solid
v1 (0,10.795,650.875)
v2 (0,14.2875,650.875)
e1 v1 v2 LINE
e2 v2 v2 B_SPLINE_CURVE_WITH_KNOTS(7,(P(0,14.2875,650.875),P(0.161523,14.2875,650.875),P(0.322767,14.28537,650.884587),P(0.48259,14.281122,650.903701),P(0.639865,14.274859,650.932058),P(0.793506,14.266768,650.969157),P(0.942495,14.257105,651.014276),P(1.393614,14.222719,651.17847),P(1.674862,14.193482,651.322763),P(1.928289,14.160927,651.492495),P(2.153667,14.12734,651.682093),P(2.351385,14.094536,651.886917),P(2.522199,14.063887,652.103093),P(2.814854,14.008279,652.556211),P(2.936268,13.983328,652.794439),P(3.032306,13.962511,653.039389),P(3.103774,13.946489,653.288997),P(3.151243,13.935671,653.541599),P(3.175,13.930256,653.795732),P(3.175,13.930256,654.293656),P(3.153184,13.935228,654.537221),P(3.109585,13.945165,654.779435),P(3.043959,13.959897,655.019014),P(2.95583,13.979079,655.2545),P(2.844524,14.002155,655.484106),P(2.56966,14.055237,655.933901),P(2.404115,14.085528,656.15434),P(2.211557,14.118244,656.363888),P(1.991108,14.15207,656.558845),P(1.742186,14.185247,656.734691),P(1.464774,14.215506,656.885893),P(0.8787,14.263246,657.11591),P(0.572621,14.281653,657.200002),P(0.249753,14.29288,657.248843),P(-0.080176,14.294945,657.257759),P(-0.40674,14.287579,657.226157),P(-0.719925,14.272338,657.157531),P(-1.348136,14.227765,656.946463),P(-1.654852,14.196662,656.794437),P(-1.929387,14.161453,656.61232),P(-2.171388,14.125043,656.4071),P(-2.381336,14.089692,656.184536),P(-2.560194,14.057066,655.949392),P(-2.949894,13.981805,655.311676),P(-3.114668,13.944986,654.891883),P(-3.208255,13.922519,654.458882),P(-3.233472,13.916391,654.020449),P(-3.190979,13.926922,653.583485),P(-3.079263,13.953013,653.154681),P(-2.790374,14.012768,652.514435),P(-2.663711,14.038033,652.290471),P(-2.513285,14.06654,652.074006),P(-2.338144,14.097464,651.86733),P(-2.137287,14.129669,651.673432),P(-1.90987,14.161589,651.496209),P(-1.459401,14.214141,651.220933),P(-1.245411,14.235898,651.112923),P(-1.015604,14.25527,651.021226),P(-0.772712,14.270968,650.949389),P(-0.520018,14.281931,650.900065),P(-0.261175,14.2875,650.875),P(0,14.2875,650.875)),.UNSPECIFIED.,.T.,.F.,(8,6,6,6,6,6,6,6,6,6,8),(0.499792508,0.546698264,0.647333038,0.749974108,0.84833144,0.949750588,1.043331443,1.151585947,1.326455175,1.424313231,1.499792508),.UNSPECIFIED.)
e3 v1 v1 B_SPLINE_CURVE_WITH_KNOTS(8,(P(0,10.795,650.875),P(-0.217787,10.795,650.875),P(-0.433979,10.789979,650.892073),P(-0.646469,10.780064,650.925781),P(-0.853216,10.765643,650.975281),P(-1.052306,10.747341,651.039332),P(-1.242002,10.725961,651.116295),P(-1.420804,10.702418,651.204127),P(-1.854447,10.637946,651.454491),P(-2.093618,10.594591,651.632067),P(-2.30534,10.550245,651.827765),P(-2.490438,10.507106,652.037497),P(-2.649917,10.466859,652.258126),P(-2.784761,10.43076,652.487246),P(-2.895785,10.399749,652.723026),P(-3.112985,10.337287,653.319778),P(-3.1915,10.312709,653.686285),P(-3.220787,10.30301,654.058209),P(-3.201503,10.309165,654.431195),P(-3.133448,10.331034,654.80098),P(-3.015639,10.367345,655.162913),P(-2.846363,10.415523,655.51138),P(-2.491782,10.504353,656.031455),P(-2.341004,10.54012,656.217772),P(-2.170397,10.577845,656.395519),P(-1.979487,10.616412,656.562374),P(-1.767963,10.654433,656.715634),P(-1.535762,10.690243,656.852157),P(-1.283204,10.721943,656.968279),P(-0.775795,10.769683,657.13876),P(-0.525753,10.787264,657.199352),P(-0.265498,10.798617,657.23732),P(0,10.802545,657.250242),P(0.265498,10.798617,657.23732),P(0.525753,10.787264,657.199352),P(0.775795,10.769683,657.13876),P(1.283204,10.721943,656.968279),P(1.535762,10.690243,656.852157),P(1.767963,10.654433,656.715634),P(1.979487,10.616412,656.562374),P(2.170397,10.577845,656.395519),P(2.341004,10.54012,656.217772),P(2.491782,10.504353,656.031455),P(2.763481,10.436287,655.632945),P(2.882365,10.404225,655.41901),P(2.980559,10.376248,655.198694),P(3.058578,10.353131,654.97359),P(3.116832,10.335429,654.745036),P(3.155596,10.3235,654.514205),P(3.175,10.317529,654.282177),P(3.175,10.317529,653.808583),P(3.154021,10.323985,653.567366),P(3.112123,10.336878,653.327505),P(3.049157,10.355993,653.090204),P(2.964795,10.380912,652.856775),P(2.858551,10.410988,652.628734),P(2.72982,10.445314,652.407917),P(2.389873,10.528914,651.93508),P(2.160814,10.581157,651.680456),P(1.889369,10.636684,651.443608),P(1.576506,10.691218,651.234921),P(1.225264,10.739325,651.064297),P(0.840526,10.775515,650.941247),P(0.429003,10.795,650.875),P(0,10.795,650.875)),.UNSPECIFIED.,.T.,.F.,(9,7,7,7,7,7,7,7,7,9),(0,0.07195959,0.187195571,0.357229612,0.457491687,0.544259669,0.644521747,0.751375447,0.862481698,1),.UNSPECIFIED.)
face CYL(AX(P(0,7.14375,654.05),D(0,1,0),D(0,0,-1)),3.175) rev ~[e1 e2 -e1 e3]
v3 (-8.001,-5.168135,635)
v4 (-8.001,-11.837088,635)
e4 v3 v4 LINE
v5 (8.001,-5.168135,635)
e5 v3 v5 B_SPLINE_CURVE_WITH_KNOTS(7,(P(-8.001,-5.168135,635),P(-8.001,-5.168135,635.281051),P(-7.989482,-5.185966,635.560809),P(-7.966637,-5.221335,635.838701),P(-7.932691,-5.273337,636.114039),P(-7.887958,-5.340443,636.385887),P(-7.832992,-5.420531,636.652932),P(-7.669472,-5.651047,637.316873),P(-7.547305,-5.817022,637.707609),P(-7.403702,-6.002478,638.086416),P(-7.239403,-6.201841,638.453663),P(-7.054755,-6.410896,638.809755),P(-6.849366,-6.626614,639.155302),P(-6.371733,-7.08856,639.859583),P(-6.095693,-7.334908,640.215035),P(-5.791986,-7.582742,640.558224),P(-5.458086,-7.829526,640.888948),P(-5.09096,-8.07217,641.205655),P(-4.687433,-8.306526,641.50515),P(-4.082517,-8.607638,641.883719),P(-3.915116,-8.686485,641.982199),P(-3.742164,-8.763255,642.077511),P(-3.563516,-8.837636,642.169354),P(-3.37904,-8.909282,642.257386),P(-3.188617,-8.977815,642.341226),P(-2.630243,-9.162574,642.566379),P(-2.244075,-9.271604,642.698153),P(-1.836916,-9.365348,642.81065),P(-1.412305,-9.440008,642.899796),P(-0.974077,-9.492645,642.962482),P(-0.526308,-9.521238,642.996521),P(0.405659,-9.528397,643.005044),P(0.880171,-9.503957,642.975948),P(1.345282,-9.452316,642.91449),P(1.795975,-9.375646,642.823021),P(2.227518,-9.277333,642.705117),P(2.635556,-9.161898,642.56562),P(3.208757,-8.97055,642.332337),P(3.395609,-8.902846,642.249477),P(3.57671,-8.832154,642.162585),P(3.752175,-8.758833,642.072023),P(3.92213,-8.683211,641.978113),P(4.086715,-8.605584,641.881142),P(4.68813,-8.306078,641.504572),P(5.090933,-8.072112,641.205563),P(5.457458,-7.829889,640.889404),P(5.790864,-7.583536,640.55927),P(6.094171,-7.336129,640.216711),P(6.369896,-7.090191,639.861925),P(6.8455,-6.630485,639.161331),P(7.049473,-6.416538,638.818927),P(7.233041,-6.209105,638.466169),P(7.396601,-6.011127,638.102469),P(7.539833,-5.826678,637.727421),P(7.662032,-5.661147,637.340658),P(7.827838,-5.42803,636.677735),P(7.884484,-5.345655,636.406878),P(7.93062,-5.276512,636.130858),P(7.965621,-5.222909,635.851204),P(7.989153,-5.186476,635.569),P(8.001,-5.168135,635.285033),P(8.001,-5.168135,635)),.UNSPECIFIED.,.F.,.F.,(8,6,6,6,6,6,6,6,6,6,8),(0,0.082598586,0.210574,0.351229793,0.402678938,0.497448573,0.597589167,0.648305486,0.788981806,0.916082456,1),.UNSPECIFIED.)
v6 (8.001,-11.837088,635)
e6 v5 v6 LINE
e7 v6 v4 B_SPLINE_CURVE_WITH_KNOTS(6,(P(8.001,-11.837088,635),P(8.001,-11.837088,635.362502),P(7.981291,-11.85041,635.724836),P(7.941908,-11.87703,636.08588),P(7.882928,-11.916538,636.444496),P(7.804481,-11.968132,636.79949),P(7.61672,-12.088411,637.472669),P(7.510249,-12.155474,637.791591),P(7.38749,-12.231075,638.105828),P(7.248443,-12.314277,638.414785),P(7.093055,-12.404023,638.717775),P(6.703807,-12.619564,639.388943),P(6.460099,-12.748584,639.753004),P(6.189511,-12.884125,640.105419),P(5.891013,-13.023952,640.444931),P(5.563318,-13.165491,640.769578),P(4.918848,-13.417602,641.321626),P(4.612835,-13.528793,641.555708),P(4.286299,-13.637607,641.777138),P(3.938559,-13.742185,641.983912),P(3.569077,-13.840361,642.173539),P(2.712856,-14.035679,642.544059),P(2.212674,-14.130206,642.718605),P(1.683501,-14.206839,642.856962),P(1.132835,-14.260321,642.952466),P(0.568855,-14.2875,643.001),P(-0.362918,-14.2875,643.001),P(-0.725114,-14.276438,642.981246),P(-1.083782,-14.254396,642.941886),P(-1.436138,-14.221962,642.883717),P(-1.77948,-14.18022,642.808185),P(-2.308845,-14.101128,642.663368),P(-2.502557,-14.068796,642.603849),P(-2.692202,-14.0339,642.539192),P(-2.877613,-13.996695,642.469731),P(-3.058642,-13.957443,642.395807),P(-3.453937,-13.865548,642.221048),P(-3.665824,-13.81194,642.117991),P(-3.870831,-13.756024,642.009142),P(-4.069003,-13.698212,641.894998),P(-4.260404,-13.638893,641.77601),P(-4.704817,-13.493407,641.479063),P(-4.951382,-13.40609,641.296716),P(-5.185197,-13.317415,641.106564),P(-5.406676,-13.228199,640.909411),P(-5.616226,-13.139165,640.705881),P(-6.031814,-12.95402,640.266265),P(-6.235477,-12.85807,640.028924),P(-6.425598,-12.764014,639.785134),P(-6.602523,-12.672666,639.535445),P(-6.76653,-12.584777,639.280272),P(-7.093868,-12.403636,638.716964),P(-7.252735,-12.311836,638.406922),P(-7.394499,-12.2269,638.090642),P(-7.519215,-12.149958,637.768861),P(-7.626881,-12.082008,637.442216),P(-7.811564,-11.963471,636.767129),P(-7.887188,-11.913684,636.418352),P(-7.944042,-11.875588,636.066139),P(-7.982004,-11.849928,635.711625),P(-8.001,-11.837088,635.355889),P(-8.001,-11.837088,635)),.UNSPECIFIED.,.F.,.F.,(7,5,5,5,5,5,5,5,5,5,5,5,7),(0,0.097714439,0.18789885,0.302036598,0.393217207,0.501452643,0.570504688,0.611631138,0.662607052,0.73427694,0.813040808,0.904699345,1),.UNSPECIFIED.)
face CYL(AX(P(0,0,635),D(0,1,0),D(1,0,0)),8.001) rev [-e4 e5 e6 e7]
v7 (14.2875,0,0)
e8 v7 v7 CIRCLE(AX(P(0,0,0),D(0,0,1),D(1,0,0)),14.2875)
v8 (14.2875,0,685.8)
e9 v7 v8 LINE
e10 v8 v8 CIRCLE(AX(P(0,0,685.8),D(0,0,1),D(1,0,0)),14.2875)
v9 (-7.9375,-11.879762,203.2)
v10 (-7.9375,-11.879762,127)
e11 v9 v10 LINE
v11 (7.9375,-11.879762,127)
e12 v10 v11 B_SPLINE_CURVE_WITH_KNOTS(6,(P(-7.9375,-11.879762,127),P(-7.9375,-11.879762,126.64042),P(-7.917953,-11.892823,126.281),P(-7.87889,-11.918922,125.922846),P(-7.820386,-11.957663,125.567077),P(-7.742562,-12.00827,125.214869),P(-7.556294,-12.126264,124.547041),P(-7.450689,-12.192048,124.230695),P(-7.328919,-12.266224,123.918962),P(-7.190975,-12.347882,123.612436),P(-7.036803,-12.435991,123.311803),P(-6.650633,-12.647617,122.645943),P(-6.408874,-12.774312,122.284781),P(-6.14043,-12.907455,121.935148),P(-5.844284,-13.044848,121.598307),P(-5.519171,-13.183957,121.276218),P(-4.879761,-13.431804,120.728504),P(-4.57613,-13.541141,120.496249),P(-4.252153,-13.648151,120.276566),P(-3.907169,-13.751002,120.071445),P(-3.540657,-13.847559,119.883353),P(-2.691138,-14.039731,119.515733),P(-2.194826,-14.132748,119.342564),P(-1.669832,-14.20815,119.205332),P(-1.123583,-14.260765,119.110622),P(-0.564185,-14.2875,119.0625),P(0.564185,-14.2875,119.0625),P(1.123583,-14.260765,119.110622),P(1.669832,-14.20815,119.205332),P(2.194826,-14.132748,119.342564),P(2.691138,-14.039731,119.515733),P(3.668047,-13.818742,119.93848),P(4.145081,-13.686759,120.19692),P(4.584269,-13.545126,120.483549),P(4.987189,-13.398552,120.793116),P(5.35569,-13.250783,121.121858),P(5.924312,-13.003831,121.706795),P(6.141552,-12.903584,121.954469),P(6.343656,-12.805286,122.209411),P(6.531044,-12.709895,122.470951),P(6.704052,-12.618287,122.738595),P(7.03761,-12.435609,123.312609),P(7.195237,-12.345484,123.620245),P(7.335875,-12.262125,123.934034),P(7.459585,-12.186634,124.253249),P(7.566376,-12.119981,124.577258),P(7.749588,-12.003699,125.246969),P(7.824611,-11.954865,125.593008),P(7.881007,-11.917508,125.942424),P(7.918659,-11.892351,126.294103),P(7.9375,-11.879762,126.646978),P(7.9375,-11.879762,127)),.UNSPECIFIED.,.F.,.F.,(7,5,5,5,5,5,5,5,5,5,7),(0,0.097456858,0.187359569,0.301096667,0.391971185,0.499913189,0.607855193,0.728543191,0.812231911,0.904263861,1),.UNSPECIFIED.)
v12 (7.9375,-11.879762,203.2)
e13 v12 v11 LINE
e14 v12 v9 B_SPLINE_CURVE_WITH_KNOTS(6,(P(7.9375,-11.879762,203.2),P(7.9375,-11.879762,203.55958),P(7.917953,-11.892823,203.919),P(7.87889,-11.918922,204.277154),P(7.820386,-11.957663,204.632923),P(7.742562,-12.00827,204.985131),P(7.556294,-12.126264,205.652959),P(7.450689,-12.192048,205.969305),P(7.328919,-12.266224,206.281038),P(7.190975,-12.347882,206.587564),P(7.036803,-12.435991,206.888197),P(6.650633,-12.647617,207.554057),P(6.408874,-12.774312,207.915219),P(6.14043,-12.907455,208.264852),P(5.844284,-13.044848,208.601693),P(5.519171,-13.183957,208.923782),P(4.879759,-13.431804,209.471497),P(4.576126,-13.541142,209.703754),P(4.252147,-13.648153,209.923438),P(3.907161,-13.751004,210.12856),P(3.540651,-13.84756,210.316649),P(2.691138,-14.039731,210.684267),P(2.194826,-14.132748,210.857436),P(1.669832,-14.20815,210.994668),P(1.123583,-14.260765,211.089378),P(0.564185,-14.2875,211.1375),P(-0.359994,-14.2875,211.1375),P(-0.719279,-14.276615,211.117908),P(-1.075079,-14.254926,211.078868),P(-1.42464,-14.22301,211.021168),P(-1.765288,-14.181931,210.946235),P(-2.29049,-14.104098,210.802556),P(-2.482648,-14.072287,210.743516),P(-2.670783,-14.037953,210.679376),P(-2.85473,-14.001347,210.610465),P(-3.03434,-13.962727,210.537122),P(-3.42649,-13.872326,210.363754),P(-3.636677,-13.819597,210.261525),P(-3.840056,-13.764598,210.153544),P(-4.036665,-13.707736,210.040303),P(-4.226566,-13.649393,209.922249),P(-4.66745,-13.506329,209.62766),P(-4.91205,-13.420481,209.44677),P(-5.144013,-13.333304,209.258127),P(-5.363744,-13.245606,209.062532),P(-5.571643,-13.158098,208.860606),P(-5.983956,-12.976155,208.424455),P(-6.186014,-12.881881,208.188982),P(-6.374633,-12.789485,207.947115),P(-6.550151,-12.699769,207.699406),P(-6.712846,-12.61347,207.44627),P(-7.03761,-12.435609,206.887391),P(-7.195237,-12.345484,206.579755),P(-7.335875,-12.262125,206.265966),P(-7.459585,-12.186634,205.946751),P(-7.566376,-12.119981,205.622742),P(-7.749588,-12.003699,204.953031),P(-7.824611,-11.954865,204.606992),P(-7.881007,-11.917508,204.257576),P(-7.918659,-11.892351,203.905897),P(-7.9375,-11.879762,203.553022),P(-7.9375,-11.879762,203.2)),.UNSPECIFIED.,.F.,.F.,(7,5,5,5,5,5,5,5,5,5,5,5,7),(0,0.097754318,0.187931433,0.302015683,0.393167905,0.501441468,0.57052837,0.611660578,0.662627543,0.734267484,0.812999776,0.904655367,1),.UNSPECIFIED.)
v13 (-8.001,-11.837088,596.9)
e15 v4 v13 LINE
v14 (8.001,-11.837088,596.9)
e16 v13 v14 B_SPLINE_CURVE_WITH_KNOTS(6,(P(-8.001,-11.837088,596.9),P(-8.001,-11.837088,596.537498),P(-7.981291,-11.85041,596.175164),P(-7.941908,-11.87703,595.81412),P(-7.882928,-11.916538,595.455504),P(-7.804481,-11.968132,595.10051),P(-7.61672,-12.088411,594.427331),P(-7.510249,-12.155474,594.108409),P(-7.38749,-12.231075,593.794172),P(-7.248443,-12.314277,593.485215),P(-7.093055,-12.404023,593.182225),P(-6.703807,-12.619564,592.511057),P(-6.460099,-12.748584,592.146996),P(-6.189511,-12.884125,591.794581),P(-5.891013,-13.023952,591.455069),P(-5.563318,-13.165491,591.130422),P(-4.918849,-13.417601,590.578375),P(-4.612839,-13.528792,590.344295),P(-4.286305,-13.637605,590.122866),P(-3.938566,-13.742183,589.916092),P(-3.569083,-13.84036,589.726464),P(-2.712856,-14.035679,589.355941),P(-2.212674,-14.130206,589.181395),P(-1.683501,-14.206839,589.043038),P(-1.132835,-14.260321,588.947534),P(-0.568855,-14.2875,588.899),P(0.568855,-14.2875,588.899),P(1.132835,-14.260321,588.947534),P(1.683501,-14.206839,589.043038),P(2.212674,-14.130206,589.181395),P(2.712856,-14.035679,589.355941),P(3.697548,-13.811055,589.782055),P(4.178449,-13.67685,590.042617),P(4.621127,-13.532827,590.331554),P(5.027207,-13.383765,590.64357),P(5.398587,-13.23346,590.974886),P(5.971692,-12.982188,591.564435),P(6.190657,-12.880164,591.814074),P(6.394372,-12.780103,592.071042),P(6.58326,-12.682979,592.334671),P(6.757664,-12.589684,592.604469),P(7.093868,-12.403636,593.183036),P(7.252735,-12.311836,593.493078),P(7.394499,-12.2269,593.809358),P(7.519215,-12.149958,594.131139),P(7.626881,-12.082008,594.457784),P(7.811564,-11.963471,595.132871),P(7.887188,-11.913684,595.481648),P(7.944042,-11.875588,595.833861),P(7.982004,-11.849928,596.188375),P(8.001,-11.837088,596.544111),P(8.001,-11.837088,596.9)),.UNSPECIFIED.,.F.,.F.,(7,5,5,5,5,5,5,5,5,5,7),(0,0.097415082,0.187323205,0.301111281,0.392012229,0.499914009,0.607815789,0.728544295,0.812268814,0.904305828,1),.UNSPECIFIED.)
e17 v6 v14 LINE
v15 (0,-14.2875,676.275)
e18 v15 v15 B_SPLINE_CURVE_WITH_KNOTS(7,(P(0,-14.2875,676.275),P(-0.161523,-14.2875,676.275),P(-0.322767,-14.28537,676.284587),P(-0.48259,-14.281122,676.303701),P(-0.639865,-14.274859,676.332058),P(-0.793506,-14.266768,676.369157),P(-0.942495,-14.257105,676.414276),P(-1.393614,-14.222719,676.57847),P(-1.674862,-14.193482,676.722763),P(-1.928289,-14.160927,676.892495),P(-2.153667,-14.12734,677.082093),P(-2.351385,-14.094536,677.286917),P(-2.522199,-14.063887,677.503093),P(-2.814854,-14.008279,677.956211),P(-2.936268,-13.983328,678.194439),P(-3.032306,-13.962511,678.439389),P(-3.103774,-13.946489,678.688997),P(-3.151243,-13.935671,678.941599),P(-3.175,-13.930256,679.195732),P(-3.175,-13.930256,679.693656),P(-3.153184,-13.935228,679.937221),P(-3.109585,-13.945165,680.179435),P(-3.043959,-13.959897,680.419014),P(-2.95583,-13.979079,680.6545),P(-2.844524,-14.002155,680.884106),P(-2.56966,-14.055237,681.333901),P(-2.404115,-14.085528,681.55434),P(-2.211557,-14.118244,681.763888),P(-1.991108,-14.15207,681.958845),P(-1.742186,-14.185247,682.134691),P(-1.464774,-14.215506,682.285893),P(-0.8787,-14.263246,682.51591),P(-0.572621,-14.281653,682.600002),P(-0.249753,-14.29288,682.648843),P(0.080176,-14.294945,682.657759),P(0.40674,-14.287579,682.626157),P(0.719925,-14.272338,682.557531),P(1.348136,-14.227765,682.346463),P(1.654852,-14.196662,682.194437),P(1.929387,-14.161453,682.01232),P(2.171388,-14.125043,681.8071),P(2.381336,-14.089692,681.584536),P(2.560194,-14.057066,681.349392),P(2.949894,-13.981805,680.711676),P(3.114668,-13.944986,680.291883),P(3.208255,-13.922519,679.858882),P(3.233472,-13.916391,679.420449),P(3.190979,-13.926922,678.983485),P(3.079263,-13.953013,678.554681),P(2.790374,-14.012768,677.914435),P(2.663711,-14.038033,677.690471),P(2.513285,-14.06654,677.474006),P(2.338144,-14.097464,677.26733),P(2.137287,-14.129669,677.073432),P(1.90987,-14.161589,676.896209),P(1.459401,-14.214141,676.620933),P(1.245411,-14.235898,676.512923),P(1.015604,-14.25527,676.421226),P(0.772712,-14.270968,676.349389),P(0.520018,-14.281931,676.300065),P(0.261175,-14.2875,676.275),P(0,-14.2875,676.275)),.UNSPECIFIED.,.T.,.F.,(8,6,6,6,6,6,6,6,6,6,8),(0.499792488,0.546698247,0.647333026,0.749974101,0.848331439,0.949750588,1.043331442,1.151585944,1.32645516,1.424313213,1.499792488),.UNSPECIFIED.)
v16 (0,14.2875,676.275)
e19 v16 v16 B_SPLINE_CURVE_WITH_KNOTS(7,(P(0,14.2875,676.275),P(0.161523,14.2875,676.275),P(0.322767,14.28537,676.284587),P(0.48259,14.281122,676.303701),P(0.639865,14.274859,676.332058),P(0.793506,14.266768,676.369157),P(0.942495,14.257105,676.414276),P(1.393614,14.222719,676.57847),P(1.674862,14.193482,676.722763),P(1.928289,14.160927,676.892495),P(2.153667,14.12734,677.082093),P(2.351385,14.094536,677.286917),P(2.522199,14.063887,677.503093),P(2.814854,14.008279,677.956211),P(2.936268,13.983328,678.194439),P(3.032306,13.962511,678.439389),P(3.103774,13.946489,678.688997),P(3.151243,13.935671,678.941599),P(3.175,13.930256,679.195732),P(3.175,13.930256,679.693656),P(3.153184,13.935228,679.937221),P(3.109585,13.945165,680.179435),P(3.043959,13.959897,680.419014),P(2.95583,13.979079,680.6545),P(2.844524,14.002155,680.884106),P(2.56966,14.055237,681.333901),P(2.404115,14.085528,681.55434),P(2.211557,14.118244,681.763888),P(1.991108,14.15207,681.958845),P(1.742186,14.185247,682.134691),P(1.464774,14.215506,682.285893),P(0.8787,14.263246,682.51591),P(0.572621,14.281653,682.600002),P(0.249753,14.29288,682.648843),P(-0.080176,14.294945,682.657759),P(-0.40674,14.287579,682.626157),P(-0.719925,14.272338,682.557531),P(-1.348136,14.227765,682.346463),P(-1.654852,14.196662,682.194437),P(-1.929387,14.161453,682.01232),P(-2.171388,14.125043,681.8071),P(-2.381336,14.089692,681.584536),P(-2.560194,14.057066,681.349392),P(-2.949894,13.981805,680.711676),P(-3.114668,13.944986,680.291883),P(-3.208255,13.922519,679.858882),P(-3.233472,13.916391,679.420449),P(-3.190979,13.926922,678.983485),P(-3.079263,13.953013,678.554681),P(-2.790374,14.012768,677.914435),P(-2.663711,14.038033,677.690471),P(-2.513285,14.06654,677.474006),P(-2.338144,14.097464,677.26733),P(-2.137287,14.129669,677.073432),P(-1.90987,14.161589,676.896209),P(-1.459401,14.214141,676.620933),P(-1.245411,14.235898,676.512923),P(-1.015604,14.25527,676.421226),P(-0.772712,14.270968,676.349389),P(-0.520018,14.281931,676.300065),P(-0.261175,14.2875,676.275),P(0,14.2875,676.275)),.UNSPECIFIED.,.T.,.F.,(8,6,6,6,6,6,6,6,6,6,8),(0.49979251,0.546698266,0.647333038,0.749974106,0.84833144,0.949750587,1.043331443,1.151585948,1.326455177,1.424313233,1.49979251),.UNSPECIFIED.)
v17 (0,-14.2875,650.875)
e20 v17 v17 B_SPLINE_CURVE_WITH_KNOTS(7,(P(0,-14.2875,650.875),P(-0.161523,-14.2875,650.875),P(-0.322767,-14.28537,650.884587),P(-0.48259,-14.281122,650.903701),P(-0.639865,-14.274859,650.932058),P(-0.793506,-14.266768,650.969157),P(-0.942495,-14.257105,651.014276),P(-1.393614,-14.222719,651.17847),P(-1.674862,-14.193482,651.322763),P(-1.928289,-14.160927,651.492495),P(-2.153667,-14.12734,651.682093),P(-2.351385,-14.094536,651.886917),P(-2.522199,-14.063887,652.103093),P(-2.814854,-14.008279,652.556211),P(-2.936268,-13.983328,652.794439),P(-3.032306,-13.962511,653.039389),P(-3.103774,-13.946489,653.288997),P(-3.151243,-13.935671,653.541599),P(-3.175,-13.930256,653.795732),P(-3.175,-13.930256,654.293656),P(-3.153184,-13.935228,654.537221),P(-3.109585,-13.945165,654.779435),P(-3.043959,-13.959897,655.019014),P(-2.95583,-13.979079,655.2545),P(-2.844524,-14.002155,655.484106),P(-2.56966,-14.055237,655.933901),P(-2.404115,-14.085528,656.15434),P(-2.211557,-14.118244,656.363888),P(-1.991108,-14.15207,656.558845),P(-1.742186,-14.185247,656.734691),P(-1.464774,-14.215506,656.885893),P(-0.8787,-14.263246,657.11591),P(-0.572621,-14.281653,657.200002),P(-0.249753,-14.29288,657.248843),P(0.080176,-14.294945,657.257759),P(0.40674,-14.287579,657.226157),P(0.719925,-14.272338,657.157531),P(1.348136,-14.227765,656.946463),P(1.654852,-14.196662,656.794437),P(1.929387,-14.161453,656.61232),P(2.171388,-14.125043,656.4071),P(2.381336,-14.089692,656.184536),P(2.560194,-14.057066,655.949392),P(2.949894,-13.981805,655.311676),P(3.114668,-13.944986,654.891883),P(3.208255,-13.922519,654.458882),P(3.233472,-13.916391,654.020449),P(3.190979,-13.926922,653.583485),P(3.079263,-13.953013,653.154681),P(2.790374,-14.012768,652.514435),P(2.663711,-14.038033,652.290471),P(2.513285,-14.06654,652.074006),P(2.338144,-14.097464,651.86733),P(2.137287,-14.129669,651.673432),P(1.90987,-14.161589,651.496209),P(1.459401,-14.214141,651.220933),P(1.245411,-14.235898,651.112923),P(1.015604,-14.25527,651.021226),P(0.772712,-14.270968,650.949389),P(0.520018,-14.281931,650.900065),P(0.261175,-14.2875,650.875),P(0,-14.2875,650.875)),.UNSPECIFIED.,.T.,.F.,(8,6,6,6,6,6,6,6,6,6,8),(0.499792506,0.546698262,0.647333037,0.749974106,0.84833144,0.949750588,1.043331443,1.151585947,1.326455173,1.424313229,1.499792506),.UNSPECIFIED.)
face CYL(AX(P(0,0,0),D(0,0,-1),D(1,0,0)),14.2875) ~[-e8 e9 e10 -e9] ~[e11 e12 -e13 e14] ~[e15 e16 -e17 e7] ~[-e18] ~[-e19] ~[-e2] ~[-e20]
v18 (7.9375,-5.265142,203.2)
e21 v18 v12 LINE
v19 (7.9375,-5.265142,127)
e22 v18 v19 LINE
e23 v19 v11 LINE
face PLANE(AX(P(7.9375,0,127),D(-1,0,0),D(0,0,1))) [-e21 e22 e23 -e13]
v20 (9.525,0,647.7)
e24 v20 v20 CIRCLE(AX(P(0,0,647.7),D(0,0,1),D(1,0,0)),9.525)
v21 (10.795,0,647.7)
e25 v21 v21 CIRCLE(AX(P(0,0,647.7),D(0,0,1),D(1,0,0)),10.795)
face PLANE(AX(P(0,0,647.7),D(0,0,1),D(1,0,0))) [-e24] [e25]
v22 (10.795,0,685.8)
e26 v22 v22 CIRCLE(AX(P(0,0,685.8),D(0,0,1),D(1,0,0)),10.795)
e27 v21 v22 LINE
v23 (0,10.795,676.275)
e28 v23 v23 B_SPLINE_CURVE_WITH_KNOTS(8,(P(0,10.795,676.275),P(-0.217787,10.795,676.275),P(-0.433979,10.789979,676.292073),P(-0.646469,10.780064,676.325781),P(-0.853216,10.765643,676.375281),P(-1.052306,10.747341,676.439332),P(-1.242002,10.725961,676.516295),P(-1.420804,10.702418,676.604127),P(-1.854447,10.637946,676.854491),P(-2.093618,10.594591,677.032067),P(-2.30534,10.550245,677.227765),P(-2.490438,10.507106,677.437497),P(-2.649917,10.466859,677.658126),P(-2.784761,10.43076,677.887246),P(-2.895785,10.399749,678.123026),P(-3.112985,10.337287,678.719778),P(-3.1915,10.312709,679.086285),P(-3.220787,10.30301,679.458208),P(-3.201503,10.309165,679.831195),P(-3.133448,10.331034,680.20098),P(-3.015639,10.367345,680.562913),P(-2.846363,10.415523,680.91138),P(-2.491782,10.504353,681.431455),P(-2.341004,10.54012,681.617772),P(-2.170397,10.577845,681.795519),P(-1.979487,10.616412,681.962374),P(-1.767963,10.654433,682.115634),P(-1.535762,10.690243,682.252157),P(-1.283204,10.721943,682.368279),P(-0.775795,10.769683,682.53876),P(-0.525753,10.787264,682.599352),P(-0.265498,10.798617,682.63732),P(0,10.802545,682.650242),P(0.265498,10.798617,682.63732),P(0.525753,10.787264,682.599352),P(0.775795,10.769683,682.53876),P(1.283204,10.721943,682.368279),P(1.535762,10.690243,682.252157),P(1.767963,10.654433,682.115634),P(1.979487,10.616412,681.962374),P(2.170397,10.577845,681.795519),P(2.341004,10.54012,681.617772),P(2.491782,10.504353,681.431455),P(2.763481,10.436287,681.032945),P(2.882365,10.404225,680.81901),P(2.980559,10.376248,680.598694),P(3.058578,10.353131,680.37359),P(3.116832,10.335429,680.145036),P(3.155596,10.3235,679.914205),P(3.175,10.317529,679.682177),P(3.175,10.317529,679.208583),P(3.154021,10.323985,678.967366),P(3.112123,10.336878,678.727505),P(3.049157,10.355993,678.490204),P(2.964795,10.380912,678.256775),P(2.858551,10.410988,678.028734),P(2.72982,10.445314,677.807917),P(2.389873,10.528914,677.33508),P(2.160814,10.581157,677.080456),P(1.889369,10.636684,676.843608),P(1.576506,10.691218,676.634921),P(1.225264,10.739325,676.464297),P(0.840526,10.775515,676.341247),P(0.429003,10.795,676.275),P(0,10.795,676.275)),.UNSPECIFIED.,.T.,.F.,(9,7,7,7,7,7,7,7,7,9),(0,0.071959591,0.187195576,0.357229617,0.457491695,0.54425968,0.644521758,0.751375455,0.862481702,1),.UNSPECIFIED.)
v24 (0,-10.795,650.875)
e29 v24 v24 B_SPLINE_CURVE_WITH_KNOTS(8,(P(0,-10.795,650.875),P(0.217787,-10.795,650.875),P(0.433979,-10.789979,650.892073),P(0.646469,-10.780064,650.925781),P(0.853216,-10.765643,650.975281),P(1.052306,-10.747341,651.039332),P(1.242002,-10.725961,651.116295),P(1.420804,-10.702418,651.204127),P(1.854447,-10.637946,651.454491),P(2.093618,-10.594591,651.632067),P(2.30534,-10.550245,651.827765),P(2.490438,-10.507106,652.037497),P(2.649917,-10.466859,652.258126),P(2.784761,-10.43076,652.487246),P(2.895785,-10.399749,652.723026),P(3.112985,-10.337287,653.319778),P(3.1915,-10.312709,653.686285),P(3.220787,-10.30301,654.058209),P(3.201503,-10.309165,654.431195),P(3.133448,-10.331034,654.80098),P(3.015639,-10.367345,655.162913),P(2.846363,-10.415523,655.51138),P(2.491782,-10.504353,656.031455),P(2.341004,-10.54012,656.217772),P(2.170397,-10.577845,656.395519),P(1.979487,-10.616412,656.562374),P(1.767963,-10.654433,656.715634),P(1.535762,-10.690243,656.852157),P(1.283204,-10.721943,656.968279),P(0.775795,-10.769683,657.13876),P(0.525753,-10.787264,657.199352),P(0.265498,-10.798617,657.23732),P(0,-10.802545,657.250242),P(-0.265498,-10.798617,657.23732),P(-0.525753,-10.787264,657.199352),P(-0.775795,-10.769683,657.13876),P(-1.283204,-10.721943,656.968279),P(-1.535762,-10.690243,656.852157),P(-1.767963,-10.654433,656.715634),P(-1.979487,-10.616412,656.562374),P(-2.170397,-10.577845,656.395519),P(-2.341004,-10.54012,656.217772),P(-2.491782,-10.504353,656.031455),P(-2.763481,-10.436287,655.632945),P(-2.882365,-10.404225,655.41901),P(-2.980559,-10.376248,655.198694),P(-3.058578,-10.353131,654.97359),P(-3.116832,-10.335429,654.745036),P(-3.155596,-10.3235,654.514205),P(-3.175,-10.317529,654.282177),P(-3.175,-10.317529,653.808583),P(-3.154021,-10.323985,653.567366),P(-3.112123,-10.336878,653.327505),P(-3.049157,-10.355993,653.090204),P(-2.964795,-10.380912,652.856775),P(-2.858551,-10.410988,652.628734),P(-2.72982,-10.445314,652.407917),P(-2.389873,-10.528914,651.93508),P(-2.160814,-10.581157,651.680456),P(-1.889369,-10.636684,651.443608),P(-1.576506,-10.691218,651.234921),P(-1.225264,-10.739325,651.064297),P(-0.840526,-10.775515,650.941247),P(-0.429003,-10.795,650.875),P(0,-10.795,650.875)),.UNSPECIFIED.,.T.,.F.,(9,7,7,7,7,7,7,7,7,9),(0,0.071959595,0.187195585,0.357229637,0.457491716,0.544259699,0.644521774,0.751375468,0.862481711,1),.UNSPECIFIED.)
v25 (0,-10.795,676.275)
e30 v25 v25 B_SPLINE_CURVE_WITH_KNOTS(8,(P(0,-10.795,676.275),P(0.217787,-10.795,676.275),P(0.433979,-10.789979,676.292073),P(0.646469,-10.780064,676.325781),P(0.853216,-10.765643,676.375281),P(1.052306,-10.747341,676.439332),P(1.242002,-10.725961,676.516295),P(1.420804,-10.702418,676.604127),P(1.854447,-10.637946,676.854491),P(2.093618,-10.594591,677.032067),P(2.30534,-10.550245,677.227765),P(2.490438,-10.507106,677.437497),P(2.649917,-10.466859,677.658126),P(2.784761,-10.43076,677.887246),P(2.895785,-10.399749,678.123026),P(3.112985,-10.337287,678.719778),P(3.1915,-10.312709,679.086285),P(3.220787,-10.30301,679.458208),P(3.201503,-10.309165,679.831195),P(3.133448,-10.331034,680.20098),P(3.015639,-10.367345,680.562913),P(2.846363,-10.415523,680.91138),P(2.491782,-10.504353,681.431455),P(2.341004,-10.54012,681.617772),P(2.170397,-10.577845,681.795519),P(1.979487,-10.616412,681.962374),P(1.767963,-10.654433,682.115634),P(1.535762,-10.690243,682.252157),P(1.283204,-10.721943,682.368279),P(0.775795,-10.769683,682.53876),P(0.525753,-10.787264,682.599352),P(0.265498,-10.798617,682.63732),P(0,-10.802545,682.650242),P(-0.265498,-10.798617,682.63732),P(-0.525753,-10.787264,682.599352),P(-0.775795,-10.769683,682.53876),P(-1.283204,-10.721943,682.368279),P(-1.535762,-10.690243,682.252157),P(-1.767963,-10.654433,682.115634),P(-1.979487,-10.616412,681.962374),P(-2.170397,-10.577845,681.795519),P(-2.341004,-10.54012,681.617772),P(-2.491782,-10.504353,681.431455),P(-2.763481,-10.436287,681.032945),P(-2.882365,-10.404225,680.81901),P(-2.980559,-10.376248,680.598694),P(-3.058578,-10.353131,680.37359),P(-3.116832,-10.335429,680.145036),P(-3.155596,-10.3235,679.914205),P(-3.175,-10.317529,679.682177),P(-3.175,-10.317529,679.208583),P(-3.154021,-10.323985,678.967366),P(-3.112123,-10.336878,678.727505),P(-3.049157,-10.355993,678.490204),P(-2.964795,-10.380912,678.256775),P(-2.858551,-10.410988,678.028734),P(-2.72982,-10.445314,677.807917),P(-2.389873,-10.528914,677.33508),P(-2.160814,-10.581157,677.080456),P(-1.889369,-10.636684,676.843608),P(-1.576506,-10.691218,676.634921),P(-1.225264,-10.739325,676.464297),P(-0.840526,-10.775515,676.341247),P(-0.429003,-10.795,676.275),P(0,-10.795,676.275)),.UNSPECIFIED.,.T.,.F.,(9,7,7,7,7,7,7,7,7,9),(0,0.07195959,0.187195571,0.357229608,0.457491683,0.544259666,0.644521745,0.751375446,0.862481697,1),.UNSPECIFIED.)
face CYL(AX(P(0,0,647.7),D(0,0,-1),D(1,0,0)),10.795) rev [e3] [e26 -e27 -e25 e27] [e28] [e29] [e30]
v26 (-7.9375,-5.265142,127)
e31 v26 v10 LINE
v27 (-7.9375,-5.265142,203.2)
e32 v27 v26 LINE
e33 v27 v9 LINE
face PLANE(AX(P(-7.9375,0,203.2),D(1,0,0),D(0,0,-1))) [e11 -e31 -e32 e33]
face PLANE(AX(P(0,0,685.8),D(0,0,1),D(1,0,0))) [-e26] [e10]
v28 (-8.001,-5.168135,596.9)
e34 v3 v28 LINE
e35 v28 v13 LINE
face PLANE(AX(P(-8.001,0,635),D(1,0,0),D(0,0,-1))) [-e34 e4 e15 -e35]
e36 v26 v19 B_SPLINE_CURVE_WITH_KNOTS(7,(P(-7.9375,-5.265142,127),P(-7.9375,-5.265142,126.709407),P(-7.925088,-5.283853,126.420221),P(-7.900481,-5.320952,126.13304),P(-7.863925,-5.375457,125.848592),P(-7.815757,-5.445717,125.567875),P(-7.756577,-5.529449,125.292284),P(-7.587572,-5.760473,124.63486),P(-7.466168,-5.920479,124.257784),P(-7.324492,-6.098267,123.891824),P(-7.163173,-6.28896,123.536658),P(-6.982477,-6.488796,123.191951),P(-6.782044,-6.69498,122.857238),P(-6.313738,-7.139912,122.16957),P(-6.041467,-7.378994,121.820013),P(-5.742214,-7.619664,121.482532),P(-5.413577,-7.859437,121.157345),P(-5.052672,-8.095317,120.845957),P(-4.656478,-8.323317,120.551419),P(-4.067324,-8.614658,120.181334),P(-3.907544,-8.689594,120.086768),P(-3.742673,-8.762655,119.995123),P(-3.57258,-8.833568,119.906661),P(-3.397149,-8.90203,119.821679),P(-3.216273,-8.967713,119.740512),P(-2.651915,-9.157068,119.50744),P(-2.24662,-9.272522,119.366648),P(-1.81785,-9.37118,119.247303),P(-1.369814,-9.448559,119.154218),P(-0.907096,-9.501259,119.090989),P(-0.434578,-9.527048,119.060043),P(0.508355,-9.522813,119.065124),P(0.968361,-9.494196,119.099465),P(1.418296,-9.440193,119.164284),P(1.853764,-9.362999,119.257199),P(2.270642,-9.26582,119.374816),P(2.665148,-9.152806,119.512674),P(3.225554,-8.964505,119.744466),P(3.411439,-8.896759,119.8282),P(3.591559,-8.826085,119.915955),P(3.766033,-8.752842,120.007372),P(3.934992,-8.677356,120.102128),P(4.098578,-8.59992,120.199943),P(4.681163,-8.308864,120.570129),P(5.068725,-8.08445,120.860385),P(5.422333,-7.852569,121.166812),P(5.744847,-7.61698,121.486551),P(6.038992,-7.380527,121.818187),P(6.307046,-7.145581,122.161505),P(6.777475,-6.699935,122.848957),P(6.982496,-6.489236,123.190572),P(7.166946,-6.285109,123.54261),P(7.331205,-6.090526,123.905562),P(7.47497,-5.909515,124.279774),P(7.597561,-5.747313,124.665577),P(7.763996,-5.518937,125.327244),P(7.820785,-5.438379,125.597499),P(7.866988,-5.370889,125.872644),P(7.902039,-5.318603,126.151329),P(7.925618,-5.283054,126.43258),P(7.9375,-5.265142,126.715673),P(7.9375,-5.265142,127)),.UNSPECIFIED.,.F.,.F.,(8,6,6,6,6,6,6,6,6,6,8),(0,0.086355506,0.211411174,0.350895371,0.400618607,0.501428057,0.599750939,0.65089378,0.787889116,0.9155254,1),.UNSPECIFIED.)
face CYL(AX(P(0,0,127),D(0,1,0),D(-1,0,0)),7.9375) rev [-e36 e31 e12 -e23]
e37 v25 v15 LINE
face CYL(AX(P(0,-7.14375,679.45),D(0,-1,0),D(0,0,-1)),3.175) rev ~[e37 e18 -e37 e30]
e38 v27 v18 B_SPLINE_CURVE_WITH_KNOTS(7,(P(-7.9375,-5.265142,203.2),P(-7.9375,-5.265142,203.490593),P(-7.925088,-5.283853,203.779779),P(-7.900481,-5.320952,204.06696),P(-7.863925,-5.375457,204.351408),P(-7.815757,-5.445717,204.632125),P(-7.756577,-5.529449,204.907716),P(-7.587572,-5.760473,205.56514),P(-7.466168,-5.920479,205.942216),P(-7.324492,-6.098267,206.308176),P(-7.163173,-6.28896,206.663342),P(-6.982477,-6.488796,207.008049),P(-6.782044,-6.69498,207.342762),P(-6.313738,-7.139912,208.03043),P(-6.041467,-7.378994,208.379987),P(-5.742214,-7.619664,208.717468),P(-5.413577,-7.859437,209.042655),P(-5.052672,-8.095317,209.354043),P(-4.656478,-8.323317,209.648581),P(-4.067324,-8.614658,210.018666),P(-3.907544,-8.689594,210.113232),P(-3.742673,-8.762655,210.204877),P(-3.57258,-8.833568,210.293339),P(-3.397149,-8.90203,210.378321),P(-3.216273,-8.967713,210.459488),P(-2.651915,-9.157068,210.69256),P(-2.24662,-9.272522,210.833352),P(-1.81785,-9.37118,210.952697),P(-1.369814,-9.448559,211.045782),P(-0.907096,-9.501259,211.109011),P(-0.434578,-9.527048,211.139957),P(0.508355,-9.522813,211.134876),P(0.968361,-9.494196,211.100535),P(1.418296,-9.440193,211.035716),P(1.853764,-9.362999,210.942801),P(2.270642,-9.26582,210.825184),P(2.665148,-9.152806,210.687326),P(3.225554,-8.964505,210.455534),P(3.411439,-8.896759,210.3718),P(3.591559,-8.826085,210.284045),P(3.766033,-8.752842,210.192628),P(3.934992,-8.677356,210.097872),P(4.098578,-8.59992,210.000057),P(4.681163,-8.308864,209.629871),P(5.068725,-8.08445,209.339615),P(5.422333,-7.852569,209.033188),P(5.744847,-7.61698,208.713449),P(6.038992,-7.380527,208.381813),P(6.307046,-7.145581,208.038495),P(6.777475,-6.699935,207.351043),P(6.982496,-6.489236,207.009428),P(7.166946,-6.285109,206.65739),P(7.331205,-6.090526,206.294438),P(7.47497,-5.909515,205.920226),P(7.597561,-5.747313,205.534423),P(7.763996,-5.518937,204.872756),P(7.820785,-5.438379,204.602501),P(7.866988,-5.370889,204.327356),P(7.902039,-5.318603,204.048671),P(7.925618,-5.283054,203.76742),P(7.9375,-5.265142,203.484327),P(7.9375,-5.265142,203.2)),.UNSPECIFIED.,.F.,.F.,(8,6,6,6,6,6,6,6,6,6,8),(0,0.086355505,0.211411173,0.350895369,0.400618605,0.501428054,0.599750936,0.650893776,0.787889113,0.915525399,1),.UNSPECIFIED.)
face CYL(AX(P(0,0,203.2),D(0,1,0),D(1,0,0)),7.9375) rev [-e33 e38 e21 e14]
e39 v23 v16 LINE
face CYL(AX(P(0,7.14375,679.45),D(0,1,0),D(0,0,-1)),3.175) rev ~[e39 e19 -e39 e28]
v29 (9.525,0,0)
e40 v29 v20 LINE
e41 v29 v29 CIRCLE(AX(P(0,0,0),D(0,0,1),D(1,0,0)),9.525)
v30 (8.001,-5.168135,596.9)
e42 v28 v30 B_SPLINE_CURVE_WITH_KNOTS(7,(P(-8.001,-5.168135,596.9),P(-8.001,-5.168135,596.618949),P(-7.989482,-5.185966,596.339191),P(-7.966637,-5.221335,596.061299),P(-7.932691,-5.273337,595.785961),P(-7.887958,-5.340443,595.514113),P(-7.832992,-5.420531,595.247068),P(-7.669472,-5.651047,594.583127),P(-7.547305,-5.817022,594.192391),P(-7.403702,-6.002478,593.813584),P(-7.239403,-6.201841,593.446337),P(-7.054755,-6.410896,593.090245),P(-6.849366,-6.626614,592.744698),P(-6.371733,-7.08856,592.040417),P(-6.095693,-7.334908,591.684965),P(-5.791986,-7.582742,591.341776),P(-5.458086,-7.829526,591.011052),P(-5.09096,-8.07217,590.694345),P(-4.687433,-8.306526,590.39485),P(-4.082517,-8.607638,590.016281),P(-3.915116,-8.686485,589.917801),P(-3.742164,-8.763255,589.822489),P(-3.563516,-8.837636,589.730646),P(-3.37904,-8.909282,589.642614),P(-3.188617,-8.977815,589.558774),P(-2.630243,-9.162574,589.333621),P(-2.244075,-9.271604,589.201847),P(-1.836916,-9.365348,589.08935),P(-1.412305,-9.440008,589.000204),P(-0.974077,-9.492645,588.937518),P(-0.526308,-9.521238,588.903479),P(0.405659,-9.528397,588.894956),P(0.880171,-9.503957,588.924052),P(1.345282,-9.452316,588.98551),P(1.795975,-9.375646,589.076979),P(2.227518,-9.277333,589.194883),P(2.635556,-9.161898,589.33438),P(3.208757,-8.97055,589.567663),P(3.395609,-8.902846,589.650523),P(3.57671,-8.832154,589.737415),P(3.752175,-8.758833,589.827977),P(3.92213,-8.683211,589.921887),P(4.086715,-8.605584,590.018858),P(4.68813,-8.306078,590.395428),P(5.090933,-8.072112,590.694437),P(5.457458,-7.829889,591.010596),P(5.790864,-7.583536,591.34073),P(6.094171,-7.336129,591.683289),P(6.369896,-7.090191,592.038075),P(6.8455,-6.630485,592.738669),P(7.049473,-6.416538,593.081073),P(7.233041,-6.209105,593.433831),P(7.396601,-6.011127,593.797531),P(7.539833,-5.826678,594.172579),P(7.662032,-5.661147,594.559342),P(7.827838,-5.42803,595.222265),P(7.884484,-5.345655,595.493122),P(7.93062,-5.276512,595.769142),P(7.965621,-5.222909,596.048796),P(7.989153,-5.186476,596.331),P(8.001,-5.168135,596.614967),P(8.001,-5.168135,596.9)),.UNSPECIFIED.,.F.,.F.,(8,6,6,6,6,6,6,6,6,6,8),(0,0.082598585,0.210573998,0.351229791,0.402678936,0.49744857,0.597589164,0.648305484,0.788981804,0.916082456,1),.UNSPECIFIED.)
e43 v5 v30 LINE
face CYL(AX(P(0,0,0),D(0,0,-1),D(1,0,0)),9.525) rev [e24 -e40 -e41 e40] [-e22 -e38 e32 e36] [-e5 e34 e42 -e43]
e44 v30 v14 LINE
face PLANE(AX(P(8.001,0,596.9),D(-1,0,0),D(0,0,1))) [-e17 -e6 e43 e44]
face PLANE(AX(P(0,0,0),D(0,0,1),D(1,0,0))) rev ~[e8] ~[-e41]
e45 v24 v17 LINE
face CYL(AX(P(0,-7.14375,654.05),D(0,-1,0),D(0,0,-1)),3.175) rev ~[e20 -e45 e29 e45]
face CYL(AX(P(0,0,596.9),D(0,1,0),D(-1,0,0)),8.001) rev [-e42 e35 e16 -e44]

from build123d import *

# Parameters (mm, degrees)
SKETCH1_R                            = 14.2875
SKETCH1_R_2                          = 9.525
BOSS_EXTRUDE1_DEPTH                  = 685.8
CUT_EXTRUDE1_DEPTH                   = 687.097591682
CUT_EXTRUDE2_START                   = -38.1
SKETCH3_R                            = 10.795
SKETCH3_R_2                          = 9.525
CUT_EXTRUDE2_DEPTH                   = 38.1
CUT_EXTRUDE3_DEPTH                   = 687.097591787
SKETCH7_W                            = 3.175
SKETCH7_H                            = 14.2875
F_1_4_0_25_DIAMETER_HOLE1_AT_2_COUNT = 2
F_1_4_0_25_DIAMETER_HOLE1_AT_2_PITCH = 25.4
CIRPATTERN1_COUNT                    = 2
CIRPATTERN1_COPY_1_SKETCH_W          = 3.175
CIRPATTERN1_COPY_1_SKETCH_H          = 14.2875


with BuildPart() as part:
    # Sketch1 → Boss-Extrude1 (new body)
    with BuildSketch(Plane.XY):
        Circle(SKETCH1_R)
        Circle(SKETCH1_R_2, mode=Mode.SUBTRACT)
    extrude(amount=BOSS_EXTRUDE1_DEPTH)

    # Sketch2 → Cut-Extrude1 (cut, through all)
    with BuildSketch(Plane(origin=(0, 0, 0), x_dir=(1, 0, 0), z_dir=(0, 1, 0))):
        with BuildLine():
            Line((7.9375, -127), (7.9375, -203.2))
            ThreePointArc((7.9375, -203.2), (0, -211.1375), (-7.9375, -203.2))
            Line((-7.9375, -203.2), (-7.9375, -127))
            ThreePointArc((-7.9375, -127), (0, -119.0625), (7.9375, -127))
        make_face()
    extrude(amount=-CUT_EXTRUDE1_DEPTH, mode=Mode.SUBTRACT)

    # Sketch3 → Cut-Extrude2 (cut)
    with BuildSketch(Plane.XY.offset(685.8).offset(CUT_EXTRUDE2_START)):
        Circle(SKETCH3_R)
        Circle(SKETCH3_R_2, mode=Mode.SUBTRACT)
    extrude(amount=CUT_EXTRUDE2_DEPTH, mode=Mode.SUBTRACT)

    # Sketch4 → Cut-Extrude3 (cut, through all)
    with BuildSketch(Plane(origin=(0, 0, 0), x_dir=(1, 0, 0), z_dir=(0, 1, 0))):
        with BuildLine():
            Line((-8.001, -635), (-8.001, -596.9))
            ThreePointArc((-8.001, -596.9), (0, -588.899), (8.001, -596.9))
            Line((8.001, -596.9), (8.001, -635))
            ThreePointArc((8.001, -635), (0, -643.001), (-8.001, -635))
        make_face()
    extrude(amount=-CUT_EXTRUDE3_DEPTH, mode=Mode.SUBTRACT)

    # Sketch7 → 1/4 (0.25) Diameter Hole1 (revolve, cut)
    with BuildSketch(Plane(origin=(0, 0, 654.05), x_dir=(0, 0, -1), z_dir=(1, 0, 0))):
        with Locations((1.5875, 7.14375)):
            Rectangle(SKETCH7_W, SKETCH7_H)
    f_1_4_0_25_diameter_hole1 = revolve(axis=Axis((0, -6.35, 654.05), (0, 1, 0)), mode=Mode.SUBTRACT)

    # 1/4 (0.25) Diameter Hole1 at 2: 1/4 (0.25) Diameter Hole1 ×2
    with Locations(*[(0, 0, i * F_1_4_0_25_DIAMETER_HOLE1_AT_2_PITCH) for i in range(1, F_1_4_0_25_DIAMETER_HOLE1_AT_2_COUNT)]):
        add(f_1_4_0_25_diameter_hole1, mode=Mode.SUBTRACT)

    # CirPattern1: 1/4 (0.25) Diameter Hole1 ×2 about axis
    cirpattern1_axis = Axis((0, 0, 647.7), (0, 0, 1))
    for i in range(1, CIRPATTERN1_COUNT):
        add(f_1_4_0_25_diameter_hole1.rotate(cirpattern1_axis, i * 360 / CIRPATTERN1_COUNT), mode=Mode.SUBTRACT)

    # CirPattern1 copy 1 sketch → CirPattern1 copy 1 (revolve, cut)
    with BuildSketch(Plane(origin=(0, 0, 679.45), x_dir=(0, 0, -1), z_dir=(-1, 0, 0))):
        with Locations((1.5875, 7.14375)):
            Rectangle(CIRPATTERN1_COPY_1_SKETCH_W, CIRPATTERN1_COPY_1_SKETCH_H)
    revolve(axis=Axis((0, 6.35, 679.45), (0, -1, 0)), mode=Mode.SUBTRACT)


solid = part.part
